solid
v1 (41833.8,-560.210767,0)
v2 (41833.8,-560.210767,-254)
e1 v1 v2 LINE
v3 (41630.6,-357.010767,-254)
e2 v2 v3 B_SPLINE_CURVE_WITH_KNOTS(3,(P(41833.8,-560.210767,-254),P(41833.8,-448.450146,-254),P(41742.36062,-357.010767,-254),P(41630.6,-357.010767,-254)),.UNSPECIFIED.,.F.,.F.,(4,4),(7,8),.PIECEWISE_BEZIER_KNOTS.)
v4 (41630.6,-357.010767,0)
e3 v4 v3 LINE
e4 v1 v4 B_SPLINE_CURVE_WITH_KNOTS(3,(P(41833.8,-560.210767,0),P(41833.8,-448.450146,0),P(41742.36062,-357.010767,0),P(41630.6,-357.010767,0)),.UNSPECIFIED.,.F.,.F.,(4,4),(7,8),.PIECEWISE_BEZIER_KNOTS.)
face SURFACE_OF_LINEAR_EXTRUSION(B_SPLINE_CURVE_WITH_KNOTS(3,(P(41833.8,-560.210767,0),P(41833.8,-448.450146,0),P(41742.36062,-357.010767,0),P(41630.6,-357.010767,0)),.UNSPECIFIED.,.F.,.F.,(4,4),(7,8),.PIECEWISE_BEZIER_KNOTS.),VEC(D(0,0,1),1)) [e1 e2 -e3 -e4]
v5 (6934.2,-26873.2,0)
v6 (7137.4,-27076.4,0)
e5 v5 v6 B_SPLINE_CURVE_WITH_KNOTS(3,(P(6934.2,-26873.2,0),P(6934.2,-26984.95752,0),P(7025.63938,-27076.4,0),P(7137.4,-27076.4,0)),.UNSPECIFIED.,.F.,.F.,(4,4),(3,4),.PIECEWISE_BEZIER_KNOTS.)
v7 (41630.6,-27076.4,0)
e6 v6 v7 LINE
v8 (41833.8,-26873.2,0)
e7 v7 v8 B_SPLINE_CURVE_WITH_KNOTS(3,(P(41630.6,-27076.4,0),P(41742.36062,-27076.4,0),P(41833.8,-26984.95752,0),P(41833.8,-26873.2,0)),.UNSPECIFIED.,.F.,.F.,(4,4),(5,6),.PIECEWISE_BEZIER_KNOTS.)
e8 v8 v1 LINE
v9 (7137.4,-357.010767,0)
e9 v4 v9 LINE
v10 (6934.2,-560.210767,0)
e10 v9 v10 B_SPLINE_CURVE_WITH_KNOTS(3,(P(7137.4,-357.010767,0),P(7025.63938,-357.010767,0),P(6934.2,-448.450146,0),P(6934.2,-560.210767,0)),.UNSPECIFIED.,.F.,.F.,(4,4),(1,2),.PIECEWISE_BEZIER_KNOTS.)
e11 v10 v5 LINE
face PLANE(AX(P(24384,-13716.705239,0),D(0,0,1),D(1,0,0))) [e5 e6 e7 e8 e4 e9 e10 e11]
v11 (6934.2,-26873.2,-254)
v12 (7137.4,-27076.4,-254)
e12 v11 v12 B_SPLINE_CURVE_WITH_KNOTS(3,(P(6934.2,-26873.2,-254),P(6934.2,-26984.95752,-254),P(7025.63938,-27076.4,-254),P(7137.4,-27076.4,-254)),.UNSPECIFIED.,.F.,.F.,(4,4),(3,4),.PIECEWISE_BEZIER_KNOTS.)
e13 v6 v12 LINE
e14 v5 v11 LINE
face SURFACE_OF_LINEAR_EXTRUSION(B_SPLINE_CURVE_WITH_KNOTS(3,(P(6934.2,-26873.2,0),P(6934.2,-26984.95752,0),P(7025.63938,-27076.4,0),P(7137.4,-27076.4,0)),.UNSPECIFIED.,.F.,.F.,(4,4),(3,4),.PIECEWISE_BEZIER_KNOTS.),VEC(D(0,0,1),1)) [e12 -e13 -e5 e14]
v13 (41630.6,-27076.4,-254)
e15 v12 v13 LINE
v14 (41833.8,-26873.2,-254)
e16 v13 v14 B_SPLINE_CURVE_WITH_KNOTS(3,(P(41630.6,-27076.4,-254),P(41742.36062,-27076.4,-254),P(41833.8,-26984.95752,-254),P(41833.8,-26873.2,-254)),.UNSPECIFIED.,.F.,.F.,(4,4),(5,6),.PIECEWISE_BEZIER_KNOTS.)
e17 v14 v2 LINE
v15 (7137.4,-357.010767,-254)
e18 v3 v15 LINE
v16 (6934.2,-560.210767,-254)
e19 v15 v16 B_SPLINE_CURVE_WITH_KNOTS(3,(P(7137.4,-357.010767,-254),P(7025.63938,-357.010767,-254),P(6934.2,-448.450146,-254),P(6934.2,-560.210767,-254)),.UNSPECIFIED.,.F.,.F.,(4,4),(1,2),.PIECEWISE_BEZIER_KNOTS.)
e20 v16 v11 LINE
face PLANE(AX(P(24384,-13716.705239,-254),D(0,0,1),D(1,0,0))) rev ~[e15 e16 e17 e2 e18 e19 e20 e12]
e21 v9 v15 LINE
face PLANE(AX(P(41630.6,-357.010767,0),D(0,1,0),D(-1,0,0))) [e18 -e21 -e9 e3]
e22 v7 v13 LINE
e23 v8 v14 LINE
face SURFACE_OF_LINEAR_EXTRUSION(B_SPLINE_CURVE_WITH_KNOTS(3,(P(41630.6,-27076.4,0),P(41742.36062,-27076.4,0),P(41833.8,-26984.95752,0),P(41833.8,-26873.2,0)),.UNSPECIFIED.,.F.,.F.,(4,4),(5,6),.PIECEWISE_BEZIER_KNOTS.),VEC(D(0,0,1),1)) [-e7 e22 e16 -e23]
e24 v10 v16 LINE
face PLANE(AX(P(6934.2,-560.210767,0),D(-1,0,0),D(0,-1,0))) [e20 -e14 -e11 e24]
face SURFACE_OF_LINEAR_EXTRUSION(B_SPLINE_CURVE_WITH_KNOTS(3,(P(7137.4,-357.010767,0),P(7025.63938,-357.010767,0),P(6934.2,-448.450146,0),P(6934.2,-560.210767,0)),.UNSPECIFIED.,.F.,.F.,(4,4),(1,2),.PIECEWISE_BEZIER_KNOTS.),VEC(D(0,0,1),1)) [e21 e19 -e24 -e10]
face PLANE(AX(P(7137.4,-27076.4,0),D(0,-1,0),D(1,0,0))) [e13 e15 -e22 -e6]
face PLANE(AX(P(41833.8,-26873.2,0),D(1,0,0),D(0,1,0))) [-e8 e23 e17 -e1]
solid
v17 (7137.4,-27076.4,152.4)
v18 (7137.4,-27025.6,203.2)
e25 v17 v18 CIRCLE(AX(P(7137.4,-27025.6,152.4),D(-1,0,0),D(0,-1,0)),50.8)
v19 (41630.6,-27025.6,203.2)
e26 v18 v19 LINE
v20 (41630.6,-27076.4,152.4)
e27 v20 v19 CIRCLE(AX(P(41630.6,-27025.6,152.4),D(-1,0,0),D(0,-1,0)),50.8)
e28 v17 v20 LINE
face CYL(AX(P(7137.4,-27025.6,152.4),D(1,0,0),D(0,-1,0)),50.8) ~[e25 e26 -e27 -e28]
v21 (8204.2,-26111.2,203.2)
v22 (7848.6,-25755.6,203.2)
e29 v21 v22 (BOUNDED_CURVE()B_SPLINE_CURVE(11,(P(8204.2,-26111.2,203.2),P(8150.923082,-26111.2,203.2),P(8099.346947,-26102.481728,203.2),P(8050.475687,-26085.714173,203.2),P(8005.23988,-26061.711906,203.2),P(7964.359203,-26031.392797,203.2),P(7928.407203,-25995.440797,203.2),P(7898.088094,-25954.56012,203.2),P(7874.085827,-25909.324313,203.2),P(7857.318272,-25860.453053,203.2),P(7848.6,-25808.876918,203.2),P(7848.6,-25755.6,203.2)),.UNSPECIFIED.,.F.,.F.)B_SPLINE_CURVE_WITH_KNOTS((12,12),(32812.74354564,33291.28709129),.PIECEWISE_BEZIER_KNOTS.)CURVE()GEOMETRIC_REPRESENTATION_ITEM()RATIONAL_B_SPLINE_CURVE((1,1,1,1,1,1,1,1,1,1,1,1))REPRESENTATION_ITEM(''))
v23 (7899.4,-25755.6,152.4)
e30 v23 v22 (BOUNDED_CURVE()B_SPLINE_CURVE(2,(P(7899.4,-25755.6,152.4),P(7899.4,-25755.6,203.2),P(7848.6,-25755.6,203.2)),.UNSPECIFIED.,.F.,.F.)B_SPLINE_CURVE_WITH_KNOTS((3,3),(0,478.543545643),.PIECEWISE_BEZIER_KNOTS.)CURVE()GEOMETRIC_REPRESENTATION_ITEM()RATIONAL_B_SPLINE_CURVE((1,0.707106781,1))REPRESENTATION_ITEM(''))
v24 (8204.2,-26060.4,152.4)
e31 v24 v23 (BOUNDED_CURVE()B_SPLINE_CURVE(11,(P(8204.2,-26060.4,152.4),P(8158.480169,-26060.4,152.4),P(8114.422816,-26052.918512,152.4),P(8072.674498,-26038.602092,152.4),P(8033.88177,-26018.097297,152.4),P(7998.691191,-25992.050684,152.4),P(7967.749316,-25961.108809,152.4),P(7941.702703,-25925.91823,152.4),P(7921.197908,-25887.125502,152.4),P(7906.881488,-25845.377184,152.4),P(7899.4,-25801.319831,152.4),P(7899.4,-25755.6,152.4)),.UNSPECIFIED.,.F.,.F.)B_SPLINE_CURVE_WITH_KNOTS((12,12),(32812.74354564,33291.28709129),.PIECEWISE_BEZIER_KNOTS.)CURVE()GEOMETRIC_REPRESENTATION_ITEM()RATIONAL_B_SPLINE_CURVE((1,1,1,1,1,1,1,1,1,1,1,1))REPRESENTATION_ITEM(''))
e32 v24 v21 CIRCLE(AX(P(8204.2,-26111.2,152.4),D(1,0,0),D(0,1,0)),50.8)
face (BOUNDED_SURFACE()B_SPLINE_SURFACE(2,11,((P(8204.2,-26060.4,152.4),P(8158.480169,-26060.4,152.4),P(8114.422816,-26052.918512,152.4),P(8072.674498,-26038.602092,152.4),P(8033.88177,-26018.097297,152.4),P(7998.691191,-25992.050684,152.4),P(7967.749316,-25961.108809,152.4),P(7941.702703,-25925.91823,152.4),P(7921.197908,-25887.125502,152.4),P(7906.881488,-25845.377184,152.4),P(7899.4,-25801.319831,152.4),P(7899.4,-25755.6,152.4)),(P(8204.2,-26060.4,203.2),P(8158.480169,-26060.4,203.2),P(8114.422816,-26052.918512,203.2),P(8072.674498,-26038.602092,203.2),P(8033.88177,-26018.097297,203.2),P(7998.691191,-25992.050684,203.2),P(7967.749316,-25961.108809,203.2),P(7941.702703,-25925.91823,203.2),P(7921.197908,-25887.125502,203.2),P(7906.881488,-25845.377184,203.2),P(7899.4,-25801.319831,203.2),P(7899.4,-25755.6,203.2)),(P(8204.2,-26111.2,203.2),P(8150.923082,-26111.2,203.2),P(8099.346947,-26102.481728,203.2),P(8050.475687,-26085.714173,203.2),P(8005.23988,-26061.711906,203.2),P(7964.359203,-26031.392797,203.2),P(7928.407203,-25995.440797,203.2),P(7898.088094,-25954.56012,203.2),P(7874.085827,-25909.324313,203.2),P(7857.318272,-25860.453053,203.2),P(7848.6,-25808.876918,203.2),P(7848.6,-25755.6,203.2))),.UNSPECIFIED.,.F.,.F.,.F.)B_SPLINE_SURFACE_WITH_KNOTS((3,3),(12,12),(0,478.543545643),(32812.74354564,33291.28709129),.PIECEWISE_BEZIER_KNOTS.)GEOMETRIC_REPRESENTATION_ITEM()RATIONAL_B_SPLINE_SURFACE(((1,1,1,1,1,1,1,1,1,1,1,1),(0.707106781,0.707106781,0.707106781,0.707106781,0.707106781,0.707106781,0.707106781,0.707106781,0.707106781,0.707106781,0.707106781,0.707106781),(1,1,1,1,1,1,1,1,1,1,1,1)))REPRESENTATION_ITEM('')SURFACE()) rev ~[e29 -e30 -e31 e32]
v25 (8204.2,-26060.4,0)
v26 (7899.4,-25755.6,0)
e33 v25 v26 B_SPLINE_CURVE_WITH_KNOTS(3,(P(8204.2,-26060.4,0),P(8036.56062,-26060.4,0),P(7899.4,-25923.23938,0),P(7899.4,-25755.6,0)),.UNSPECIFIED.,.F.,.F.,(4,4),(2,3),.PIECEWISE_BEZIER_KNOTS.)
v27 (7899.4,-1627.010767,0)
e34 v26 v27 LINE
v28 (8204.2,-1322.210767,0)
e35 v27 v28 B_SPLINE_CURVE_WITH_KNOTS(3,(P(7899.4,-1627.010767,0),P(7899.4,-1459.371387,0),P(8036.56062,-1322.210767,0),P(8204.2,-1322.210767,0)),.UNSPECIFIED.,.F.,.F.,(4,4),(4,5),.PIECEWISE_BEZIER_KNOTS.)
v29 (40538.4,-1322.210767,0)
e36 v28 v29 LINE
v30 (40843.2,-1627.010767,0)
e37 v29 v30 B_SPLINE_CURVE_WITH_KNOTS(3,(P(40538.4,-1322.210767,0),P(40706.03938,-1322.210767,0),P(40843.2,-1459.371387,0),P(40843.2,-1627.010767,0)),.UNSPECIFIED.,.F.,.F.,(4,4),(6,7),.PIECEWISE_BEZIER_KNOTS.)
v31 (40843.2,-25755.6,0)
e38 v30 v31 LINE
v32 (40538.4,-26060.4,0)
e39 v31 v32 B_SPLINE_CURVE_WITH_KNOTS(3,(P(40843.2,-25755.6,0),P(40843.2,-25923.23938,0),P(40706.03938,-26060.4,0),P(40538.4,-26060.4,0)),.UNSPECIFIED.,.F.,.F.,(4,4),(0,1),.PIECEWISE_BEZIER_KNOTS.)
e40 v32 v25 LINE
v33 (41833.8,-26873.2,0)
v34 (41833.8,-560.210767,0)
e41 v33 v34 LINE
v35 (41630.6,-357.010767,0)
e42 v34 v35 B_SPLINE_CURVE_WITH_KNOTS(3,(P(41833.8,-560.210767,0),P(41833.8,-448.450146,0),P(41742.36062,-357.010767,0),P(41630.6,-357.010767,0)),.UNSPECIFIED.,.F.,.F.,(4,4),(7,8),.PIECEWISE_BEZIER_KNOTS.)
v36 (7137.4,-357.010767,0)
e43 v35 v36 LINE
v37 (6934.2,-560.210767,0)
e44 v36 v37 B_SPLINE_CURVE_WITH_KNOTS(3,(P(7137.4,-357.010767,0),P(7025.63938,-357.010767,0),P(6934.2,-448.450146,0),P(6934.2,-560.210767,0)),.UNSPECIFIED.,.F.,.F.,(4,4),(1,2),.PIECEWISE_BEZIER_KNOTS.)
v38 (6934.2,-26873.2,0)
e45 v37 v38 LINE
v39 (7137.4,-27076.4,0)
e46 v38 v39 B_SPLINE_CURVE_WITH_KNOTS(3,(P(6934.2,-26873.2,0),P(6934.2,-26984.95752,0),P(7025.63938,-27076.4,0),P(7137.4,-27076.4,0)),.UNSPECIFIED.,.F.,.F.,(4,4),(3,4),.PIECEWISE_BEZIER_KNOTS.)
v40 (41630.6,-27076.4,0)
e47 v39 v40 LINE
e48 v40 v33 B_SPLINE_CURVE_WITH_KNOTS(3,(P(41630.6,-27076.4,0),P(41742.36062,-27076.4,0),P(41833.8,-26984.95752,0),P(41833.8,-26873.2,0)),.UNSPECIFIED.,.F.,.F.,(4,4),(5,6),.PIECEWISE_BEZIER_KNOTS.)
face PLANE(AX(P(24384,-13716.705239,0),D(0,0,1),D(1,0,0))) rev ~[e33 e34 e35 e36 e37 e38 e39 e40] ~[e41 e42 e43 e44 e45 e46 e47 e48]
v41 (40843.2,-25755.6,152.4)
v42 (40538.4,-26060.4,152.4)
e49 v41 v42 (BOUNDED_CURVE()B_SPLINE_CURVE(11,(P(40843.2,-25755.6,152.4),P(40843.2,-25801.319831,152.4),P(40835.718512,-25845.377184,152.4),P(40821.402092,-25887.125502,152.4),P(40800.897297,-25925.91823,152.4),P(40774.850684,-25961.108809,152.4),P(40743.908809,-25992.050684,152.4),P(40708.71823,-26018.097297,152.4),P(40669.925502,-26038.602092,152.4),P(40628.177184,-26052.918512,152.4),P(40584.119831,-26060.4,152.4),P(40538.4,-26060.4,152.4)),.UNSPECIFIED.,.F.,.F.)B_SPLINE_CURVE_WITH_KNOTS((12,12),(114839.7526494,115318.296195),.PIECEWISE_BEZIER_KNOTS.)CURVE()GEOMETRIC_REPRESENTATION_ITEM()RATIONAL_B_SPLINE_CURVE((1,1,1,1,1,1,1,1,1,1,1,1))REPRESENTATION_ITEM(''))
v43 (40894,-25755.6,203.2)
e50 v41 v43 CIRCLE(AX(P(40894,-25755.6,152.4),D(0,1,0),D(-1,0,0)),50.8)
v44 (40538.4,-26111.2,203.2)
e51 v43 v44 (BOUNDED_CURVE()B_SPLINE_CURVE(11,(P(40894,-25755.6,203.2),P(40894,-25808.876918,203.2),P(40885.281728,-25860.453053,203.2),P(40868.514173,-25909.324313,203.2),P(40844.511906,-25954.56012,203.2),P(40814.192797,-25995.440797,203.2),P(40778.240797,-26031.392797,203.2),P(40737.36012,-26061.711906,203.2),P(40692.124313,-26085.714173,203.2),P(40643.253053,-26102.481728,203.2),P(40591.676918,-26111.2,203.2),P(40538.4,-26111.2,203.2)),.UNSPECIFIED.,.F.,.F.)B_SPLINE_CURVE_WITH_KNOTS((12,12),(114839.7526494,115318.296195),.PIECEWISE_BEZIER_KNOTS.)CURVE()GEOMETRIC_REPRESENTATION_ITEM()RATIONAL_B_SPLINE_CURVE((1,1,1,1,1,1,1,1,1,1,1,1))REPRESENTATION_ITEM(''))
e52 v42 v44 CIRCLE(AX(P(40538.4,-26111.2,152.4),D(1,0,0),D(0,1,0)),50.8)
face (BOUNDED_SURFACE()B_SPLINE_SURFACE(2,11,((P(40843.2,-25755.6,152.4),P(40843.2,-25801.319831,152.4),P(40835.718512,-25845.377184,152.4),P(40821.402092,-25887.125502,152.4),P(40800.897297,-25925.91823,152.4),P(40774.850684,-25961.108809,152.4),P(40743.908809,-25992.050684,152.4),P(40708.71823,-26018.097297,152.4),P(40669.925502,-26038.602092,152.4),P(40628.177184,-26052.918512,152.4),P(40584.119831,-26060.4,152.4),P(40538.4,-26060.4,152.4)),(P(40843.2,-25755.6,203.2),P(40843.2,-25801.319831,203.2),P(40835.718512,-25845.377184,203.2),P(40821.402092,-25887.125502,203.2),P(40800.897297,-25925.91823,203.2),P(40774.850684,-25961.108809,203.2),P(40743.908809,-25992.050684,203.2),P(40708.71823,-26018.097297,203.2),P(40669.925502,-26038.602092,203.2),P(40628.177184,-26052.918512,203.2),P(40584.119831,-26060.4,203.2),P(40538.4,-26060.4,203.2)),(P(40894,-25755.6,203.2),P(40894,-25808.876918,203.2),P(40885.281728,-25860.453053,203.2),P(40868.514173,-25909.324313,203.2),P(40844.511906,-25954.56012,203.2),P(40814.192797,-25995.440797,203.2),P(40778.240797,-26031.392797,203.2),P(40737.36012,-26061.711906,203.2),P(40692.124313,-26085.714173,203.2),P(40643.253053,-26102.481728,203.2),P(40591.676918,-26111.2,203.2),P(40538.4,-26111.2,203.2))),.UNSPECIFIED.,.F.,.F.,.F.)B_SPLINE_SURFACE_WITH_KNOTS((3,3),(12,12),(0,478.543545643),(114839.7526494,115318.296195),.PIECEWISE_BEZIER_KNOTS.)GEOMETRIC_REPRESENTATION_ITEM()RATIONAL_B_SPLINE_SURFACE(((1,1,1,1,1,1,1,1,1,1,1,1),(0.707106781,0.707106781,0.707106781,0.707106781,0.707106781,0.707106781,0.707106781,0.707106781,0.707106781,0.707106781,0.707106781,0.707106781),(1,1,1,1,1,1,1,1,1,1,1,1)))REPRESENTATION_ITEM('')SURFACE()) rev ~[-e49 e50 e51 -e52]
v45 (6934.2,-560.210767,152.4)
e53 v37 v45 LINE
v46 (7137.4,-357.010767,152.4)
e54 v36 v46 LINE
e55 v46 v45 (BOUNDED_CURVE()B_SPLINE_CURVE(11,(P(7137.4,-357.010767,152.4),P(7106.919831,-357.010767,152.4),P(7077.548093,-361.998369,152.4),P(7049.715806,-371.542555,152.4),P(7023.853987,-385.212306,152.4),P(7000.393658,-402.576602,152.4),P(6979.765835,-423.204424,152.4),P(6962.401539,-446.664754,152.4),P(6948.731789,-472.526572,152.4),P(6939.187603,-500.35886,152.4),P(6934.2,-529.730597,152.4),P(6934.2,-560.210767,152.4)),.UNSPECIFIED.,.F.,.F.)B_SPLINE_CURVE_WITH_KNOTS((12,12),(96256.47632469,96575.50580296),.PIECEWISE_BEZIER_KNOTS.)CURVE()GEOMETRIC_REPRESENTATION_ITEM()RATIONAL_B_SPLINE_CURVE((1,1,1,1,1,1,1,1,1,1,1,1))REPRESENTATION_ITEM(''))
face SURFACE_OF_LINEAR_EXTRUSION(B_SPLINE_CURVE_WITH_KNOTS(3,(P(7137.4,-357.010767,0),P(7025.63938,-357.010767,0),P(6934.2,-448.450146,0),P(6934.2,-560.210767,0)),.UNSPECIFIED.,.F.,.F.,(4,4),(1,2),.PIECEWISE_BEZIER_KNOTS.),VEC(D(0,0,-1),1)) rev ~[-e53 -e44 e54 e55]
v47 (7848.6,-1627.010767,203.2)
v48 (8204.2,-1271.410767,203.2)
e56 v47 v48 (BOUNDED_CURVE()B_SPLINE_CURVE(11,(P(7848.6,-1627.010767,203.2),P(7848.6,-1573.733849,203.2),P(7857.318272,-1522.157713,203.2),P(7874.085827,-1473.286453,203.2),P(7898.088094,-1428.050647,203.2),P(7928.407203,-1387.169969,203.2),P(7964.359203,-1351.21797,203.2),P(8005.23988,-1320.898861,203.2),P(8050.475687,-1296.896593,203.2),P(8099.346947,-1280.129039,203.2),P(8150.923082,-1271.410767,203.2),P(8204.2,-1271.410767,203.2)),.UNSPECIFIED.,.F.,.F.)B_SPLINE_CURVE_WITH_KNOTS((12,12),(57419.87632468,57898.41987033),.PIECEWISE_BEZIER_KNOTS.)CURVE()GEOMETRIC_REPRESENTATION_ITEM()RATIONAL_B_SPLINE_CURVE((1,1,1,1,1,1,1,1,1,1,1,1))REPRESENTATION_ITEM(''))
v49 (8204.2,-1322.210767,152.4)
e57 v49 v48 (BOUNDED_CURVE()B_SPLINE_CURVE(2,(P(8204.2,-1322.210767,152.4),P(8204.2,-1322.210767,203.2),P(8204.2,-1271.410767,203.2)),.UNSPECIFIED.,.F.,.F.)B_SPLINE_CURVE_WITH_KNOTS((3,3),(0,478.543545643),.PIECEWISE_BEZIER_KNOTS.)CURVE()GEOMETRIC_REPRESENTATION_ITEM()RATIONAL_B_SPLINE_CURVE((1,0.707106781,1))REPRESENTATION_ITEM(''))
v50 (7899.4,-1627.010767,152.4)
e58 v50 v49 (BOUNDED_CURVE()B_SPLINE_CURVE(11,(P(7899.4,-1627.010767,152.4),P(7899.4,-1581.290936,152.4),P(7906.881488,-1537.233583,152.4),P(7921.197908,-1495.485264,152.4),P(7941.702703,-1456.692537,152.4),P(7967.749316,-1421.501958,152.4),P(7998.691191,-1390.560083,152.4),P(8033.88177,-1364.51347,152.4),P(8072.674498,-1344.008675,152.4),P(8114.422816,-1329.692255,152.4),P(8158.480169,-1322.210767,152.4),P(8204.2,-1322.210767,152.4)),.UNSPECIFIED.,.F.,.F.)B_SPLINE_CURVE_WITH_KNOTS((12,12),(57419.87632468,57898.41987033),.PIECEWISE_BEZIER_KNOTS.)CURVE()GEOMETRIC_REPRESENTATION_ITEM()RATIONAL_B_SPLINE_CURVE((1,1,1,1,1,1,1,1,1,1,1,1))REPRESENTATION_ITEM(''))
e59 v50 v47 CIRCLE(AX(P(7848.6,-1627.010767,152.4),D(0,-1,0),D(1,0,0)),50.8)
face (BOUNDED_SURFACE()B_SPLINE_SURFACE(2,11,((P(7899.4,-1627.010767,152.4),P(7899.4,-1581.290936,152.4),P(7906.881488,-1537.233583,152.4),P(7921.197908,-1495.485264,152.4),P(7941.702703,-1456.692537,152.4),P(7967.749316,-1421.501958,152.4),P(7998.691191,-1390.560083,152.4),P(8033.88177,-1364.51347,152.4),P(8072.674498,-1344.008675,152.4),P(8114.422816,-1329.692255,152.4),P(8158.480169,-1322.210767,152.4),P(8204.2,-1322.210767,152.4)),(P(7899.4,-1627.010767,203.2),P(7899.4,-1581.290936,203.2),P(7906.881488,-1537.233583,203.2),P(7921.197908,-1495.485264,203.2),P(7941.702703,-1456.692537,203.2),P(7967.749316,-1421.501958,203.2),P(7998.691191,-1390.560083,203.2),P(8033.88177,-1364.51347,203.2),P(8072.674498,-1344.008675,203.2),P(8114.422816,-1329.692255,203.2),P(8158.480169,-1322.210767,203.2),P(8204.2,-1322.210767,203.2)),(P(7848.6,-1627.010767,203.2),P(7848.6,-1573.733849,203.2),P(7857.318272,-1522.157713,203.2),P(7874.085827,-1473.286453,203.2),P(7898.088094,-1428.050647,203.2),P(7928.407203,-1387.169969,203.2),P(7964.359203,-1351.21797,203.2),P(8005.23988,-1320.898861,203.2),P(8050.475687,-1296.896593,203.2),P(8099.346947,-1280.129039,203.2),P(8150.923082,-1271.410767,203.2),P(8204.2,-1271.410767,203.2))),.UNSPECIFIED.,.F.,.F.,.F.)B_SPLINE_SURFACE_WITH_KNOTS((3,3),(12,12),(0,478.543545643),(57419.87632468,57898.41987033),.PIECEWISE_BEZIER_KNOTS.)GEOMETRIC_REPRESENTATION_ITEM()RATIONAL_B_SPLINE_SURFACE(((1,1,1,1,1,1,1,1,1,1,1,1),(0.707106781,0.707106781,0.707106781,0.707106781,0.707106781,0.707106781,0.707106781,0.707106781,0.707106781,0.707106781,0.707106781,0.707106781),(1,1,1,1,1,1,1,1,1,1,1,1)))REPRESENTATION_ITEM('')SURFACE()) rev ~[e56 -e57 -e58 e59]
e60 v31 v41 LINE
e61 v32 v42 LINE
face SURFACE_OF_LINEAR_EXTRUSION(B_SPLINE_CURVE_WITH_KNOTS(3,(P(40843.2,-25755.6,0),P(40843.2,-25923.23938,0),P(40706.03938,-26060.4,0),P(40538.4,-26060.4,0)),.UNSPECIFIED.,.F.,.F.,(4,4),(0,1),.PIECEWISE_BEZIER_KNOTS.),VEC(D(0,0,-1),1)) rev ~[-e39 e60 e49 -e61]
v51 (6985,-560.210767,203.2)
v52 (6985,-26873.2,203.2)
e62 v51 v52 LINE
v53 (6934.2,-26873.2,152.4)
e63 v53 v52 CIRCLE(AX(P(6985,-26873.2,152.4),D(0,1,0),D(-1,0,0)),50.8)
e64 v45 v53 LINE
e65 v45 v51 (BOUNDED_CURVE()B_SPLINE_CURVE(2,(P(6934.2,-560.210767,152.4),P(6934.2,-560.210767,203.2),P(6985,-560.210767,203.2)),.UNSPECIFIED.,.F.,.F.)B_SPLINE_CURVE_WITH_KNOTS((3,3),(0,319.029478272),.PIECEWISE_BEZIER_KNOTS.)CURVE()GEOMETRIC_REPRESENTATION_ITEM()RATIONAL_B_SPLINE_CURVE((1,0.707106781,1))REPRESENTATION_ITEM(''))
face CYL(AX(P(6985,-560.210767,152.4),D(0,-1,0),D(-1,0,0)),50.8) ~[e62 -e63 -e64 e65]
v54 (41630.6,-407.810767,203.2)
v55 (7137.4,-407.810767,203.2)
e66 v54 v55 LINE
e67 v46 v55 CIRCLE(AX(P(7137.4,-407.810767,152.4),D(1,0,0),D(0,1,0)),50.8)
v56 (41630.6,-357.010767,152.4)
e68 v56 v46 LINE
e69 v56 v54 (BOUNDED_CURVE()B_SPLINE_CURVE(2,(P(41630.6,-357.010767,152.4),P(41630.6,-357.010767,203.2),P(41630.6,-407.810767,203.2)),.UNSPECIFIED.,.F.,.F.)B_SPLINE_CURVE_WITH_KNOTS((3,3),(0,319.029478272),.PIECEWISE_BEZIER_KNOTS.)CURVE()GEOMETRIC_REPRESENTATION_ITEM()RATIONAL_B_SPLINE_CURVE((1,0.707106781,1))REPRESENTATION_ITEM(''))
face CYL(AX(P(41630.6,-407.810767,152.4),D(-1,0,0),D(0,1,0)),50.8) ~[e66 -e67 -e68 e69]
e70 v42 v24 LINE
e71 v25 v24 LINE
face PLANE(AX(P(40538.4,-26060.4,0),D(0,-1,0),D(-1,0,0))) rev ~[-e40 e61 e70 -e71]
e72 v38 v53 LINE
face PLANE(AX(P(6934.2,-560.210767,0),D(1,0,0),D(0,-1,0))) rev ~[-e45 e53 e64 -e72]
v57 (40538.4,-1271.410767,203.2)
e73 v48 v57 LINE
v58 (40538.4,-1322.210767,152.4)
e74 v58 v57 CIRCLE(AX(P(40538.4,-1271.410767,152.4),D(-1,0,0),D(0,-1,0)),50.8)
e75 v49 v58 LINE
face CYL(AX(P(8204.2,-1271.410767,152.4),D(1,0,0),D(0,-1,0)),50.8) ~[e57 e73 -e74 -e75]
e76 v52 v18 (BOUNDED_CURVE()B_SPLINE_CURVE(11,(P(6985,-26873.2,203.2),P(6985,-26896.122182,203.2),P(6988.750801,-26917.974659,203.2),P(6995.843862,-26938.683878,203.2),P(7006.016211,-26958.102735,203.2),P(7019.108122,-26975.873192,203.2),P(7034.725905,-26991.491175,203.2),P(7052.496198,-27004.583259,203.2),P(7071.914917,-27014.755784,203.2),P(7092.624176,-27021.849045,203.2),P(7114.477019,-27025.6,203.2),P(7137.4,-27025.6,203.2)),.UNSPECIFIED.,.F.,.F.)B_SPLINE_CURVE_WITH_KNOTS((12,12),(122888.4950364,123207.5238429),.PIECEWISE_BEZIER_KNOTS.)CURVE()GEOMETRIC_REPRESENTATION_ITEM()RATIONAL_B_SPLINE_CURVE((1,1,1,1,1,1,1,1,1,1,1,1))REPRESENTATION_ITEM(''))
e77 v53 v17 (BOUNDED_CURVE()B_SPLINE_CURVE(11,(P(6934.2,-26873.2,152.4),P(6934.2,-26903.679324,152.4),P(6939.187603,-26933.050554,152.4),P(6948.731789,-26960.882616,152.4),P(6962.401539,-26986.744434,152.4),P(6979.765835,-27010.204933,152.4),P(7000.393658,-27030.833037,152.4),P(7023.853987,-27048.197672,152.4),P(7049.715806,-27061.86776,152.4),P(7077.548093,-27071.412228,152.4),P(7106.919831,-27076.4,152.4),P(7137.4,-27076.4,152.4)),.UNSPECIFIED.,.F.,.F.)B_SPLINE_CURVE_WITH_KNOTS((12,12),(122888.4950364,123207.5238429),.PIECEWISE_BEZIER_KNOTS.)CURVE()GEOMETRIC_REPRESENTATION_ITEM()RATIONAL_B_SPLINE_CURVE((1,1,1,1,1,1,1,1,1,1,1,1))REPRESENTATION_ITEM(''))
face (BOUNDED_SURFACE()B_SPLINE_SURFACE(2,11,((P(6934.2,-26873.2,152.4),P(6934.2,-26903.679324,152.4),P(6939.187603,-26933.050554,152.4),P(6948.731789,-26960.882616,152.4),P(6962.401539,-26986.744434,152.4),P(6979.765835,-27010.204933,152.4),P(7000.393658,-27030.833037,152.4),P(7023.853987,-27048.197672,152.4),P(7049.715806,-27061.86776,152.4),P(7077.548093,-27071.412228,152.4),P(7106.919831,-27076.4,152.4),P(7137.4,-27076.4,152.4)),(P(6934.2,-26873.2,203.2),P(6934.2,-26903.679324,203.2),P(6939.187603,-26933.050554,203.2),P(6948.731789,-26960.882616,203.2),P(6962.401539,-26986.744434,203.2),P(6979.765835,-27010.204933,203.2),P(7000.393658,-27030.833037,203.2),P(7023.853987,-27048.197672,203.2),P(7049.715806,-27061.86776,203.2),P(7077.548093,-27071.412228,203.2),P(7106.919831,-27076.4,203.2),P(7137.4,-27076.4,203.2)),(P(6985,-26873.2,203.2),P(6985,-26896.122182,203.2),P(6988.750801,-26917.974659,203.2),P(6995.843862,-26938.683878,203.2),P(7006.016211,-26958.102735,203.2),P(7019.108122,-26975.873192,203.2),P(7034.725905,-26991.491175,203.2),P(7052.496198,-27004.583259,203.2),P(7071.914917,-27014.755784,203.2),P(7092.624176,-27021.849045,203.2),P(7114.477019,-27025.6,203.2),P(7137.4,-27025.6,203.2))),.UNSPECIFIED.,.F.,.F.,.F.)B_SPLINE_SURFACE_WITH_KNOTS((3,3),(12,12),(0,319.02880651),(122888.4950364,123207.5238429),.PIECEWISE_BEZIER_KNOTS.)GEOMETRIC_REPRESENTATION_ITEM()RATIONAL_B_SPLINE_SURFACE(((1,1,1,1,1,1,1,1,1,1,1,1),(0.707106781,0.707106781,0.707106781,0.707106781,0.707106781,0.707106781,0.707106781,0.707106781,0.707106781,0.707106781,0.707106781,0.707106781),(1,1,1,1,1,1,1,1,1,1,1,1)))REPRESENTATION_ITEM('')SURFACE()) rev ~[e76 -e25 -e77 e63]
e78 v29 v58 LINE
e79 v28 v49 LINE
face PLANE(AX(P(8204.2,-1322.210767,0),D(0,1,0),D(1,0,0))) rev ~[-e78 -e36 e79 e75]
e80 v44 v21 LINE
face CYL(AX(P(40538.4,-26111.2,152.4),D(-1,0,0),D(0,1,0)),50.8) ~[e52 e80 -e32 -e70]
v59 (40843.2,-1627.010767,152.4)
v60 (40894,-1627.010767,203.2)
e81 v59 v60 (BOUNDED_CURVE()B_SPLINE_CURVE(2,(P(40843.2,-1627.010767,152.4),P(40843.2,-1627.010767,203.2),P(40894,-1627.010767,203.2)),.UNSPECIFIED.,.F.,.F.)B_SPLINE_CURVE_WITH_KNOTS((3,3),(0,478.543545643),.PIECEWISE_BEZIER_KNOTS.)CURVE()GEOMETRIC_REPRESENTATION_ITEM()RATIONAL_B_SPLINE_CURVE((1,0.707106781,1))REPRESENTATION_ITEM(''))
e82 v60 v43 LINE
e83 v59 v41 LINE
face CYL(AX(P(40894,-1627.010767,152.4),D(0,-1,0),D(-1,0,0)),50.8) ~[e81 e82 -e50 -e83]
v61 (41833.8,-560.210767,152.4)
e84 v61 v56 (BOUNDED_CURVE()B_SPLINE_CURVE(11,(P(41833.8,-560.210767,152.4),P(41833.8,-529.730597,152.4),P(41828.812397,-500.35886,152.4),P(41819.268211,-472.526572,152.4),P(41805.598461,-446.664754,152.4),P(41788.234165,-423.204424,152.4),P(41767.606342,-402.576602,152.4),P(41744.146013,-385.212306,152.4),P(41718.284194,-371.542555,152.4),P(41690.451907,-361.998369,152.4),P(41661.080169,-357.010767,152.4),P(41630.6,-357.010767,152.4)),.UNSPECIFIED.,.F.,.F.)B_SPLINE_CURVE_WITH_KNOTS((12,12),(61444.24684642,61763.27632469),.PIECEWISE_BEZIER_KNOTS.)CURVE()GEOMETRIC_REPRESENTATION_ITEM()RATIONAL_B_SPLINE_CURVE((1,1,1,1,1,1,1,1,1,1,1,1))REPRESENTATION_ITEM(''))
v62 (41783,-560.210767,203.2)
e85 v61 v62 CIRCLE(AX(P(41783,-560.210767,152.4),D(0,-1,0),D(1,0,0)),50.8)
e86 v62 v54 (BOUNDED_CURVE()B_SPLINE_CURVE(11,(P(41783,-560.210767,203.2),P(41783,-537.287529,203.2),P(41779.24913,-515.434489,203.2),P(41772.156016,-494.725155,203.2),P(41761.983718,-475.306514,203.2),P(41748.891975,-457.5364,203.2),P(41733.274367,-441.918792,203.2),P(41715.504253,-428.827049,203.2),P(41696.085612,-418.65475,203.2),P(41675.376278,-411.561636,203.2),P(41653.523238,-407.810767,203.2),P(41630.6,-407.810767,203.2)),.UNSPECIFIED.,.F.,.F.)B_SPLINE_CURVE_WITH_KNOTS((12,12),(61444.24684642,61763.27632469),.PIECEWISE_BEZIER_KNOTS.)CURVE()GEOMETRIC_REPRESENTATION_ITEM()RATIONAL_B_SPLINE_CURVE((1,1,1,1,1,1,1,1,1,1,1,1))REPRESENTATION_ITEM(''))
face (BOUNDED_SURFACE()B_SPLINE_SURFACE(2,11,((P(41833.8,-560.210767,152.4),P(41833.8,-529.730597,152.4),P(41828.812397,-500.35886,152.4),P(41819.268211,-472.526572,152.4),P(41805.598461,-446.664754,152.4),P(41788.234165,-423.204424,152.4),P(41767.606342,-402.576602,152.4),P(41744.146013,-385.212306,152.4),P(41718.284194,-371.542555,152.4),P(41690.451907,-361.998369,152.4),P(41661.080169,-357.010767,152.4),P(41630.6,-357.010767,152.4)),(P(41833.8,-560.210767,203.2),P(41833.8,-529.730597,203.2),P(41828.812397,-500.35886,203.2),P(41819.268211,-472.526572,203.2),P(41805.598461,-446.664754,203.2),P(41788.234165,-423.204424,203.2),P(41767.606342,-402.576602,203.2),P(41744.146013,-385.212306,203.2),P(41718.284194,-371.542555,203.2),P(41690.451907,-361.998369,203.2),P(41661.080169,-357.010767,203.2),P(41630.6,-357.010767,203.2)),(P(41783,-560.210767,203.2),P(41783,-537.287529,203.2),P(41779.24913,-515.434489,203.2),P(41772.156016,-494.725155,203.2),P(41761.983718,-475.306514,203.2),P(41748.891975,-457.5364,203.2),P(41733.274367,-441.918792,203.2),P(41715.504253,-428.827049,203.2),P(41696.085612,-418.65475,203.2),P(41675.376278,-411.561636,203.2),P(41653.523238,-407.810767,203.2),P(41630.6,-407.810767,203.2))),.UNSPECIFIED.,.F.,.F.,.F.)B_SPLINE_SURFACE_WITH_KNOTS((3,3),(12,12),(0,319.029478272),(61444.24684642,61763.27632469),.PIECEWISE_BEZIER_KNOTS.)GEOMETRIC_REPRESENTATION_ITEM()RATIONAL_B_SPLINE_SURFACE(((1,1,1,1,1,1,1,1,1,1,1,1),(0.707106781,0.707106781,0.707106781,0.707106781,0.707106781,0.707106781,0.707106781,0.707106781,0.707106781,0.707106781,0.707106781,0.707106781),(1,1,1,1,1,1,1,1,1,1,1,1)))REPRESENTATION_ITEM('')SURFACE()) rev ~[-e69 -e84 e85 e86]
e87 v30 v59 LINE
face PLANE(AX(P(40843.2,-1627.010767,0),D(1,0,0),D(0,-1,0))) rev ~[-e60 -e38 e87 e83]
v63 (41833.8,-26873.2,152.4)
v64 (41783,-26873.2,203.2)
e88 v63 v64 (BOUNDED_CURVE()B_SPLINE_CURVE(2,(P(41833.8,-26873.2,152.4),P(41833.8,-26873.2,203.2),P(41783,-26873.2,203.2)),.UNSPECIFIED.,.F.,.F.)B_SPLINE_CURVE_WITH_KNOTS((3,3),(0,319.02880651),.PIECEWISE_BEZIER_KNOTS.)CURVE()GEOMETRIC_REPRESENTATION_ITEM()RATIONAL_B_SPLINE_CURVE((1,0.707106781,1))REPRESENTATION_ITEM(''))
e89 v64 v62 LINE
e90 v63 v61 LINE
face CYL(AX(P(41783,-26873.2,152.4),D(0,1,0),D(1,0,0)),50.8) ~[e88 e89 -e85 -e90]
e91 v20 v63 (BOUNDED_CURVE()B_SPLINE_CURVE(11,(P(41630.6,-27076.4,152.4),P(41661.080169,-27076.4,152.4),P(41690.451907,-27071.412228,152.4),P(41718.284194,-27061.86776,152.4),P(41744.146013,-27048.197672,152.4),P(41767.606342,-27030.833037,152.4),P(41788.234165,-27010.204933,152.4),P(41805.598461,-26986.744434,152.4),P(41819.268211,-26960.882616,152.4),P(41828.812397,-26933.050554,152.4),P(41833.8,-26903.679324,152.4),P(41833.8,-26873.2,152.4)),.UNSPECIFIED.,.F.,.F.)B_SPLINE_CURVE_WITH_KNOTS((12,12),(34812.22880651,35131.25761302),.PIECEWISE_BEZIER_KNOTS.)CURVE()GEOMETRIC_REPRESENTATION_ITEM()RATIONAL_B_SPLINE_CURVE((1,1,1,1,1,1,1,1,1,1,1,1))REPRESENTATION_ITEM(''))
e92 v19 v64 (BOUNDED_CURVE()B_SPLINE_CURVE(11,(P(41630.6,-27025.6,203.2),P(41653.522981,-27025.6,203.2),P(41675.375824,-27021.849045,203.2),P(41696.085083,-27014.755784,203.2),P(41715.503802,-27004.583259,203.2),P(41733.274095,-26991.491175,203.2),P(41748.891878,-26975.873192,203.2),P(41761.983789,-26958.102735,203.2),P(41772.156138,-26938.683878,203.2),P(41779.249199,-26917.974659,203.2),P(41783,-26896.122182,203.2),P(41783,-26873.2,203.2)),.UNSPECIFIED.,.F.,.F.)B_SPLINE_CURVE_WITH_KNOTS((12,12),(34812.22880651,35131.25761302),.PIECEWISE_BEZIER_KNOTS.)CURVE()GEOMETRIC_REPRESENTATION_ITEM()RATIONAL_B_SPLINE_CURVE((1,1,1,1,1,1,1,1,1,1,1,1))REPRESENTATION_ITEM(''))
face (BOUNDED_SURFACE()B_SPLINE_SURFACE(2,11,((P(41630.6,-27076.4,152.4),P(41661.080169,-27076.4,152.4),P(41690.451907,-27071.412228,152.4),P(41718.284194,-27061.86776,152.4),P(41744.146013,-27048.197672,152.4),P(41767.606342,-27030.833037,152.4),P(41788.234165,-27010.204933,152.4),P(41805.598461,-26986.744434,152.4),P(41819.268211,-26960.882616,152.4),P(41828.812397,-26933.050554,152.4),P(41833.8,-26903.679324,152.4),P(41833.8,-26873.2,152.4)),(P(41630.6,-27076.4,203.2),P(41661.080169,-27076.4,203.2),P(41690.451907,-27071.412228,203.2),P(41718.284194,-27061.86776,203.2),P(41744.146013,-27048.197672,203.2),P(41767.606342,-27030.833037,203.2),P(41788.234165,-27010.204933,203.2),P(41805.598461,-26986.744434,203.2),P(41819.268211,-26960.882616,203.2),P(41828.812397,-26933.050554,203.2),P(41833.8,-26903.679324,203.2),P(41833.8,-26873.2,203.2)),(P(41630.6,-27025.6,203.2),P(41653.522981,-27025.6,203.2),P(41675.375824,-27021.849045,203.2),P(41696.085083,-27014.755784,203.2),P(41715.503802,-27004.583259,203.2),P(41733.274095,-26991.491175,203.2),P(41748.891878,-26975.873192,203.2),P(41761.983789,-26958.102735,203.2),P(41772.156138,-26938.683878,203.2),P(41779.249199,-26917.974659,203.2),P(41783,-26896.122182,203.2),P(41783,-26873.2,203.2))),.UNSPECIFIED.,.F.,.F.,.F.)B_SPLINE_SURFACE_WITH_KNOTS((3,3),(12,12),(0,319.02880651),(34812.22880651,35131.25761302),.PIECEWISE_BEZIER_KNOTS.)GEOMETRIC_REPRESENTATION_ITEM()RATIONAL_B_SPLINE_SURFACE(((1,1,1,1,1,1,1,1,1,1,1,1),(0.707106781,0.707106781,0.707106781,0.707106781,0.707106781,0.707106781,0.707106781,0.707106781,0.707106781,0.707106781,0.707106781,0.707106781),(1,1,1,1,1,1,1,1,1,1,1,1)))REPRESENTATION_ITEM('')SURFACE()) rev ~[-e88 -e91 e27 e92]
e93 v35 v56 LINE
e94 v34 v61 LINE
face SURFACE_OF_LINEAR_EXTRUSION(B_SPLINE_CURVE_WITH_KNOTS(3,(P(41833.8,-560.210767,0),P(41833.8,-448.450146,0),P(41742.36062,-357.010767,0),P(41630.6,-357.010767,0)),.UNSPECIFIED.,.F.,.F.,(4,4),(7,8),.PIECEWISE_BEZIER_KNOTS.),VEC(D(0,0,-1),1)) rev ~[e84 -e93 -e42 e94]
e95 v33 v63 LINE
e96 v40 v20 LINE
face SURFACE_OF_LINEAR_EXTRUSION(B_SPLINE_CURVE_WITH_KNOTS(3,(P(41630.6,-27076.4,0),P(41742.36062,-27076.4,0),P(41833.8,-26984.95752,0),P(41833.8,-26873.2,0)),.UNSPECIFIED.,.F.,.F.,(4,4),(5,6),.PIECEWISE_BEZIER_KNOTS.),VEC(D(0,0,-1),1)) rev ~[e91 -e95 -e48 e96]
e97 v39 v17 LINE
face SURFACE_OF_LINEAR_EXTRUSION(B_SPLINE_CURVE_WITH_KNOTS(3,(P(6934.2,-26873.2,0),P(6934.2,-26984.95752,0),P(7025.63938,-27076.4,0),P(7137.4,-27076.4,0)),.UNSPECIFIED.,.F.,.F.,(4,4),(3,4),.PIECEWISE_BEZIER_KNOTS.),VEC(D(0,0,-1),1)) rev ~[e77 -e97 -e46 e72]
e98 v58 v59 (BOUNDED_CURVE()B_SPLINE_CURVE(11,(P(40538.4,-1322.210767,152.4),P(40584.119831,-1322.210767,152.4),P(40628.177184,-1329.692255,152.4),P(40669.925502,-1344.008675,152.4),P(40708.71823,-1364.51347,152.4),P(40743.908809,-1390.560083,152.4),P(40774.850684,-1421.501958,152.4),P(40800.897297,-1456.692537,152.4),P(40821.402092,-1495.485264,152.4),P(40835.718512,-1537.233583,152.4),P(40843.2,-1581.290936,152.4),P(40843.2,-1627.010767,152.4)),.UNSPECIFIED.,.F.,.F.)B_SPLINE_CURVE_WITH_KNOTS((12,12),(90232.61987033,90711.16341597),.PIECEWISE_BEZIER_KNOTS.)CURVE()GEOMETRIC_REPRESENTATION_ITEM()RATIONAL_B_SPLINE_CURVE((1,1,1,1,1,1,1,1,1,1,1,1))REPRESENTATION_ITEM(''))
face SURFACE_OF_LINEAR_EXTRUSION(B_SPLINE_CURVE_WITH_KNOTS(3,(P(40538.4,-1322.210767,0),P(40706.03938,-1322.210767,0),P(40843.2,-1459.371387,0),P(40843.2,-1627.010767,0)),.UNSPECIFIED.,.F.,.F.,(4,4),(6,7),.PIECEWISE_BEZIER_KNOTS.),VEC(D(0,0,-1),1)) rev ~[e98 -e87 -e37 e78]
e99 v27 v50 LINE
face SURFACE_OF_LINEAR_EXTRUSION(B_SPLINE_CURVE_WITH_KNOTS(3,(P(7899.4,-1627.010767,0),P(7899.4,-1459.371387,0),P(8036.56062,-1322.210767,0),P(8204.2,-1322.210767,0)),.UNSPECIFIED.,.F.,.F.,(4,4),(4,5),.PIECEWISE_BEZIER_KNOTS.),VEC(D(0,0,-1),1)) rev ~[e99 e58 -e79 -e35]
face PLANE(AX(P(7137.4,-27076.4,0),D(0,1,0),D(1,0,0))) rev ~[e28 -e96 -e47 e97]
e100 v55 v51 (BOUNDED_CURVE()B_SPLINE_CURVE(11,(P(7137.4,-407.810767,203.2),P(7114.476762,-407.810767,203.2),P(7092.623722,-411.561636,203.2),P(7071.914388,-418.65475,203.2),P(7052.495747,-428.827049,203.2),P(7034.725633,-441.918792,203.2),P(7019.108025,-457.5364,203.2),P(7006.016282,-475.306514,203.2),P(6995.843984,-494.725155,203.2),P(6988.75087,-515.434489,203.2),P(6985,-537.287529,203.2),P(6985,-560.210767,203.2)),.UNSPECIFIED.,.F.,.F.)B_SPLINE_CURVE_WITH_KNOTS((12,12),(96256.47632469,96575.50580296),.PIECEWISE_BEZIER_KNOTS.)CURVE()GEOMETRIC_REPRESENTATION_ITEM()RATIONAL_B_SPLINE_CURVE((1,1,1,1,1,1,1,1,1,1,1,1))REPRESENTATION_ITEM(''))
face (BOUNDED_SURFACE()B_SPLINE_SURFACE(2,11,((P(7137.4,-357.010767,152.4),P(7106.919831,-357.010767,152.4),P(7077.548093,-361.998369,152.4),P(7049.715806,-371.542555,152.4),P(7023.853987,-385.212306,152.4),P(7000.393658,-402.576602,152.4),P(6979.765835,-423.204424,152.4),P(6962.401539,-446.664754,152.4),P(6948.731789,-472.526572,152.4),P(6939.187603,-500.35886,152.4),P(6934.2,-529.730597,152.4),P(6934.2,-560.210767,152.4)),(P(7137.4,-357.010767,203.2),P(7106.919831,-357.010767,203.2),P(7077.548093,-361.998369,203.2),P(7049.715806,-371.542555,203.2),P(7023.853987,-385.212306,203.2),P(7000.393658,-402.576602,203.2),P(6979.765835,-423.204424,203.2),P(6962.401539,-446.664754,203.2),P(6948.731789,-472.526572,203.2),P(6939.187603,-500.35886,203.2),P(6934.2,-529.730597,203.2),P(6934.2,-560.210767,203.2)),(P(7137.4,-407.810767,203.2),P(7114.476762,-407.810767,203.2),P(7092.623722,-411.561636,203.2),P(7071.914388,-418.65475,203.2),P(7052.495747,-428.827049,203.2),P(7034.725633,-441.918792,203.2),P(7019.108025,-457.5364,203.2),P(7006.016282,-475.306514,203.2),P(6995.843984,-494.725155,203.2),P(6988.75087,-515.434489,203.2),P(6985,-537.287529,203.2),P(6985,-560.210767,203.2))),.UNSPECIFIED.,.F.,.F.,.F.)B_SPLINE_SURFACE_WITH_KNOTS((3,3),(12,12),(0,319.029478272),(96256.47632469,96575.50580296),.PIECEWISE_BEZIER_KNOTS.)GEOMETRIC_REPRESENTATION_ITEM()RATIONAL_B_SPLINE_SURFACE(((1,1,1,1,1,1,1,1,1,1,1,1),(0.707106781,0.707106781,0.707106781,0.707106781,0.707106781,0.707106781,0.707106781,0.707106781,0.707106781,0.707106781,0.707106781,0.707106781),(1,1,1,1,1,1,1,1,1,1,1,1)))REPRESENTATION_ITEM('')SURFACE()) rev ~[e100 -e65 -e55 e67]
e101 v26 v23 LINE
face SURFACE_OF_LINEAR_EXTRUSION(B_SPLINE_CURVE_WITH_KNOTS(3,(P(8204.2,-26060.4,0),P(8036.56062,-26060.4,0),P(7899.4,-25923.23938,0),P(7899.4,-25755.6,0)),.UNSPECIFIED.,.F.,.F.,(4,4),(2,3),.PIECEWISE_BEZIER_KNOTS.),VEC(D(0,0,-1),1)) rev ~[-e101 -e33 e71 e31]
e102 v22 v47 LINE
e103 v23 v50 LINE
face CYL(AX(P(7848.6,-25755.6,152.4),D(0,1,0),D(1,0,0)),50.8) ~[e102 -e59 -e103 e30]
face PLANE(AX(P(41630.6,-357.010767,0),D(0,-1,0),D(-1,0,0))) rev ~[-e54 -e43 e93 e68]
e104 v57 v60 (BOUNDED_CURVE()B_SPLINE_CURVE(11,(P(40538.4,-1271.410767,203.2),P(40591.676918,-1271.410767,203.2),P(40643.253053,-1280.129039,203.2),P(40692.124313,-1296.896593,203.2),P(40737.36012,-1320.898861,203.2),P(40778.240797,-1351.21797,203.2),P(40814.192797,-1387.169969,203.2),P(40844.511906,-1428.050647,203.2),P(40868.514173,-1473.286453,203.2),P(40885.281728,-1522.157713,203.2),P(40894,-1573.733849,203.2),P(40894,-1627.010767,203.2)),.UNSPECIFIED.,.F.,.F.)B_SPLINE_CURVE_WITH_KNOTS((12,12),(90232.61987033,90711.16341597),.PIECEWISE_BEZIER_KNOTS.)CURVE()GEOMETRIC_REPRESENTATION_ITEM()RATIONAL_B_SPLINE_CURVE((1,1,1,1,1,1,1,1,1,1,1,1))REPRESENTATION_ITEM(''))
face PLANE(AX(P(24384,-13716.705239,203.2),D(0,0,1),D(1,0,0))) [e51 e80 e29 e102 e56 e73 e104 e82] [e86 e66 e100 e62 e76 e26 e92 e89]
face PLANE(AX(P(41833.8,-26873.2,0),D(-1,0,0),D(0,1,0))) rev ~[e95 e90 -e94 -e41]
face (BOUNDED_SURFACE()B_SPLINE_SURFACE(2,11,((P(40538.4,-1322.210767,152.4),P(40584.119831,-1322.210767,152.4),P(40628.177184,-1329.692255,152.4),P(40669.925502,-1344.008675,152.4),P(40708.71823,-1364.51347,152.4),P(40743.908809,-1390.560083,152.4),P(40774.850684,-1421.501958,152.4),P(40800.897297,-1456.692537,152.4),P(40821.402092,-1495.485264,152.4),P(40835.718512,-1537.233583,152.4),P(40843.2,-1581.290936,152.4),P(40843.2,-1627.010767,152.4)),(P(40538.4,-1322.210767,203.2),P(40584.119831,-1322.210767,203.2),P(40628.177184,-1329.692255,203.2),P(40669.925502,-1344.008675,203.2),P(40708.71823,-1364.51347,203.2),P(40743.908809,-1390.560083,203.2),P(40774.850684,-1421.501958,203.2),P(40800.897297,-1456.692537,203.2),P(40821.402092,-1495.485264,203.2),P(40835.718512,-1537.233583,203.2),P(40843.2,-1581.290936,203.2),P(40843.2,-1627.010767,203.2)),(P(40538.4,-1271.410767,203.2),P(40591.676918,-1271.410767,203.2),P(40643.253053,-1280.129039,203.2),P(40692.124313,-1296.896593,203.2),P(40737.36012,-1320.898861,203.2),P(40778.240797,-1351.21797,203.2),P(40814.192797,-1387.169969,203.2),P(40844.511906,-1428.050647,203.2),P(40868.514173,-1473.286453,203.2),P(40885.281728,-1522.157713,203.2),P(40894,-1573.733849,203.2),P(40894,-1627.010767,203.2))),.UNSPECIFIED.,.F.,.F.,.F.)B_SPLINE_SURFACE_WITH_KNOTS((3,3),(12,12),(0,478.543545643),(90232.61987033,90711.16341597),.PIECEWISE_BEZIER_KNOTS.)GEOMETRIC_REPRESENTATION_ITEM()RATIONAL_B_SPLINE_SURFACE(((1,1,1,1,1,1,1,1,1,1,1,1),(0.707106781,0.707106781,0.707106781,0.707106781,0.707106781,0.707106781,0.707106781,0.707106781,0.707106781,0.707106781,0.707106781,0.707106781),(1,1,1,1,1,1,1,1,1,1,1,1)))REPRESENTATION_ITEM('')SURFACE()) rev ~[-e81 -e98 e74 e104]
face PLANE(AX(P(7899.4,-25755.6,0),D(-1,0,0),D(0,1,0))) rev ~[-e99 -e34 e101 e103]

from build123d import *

# Parameters (mm, degrees)
BOSS_EXTRUDE1_DEPTH = 203.2
FILLET1_R           = 50.8
BOSS_EXTRUDE2_DEPTH = 254


with BuildPart() as part:
    # Model → Boss-Extrude1 (new body)
    with BuildSketch(Plane.XY):
        with BuildLine():
            Line((41630.6, -357.010766602), (7137.4, -357.010766602))
            add(Edge.make_bspline(
                [(7137.4, -357.010766602), (7025.639379883, -357.010766602), (6934.2, -448.450146484), (6934.2, -560.210766602)],
                knots=[1, 1, 1, 1, 2, 2, 2, 2], degree=3))
            Line((6934.2, -560.210766602), (6934.2, -26873.2))
            add(Edge.make_bspline(
                [(6934.2, -26873.2), (6934.2, -26984.957519531), (7025.639379883, -27076.4), (7137.4, -27076.4)],
                knots=[3, 3, 3, 3, 4, 4, 4, 4], degree=3))
            Line((7137.4, -27076.4), (41630.6, -27076.4))
            add(Edge.make_bspline(
                [(41630.6, -27076.4), (41742.360620117, -27076.4), (41833.8, -26984.957519531), (41833.8, -26873.2)],
                knots=[5, 5, 5, 5, 6, 6, 6, 6], degree=3))
            Line((41833.8, -26873.2), (41833.8, -560.210766602))
            add(Edge.make_bspline(
                [(41833.8, -560.210766602), (41833.8, -448.450146484), (41742.360620117, -357.010766602), (41630.6, -357.010766602)],
                knots=[7, 7, 7, 7, 8, 8, 8, 8], degree=3))
        make_face()
        with BuildLine():
            Line((40538.4, -26060.4), (8204.2, -26060.4))
            add(Edge.make_bspline(
                [(8204.2, -26060.4), (8036.560620117, -26060.4), (7899.4, -25923.239379883), (7899.4, -25755.6)],
                knots=[2, 2, 2, 2, 3, 3, 3, 3], degree=3))
            Line((7899.4, -25755.6), (7899.4, -1627.010766602))
            add(Edge.make_bspline(
                [(7899.4, -1627.010766602), (7899.4, -1459.371386719), (8036.560620117, -1322.210766602), (8204.2, -1322.210766602)],
                knots=[4, 4, 4, 4, 5, 5, 5, 5], degree=3))
            Line((8204.2, -1322.210766602), (40538.4, -1322.210766602))
            add(Edge.make_bspline(
                [(40538.4, -1322.210766602), (40706.039379883, -1322.210766602), (40843.2, -1459.371386719), (40843.2, -1627.010766602)],
                knots=[6, 6, 6, 6, 7, 7, 7, 7], degree=3))
            Line((40843.2, -1627.010766602), (40843.2, -25755.6))
            add(Edge.make_bspline(
                [(40843.2, -25755.6), (40843.2, -25923.239379883), (40706.039379883, -26060.4), (40538.4, -26060.4)],
                knots=[0, 0, 0, 0, 1, 1, 1, 1], degree=3))
        make_face(mode=Mode.SUBTRACT)
    extrude(amount=BOSS_EXTRUDE1_DEPTH)

    # Fillet1
    fillet1_edges = [part.edges().sort_by_distance(p)[0] for p in [
        (6993.890366848, -27016.70966922, 203.2),
        (24384, -27076.4, 203.2),
        (41774.109633189, -27016.709669183, 203.2),
        (41833.8, -13716.705383301, 203.2),
        (41774.110232526, -416.700534039, 203.2),
        (40753.664767429, -25970.864767483, 203.2),
        (40843.2, -13691.305383301, 203.2),
        (40753.664767483, -1411.745999173, 203.2),
        (24371.3, -1322.210766602, 203.2),
        (7988.935232571, -1411.745999118, 203.2),
        (7899.4, -13691.305383301, 203.2),
        (7988.935232517, -25970.864767429, 203.2),
        (24384, -357.010766602, 203.2),
        (24371.3, -26060.4, 203.2),
        (6993.889767438, -416.700534076, 203.2),
        (6934.2, -13716.705383301, 203.2),
    ]]
    fillet(fillet1_edges, radius=FILLET1_R)


with BuildPart() as body_2:
    # Sketch4 → Boss-Extrude2 (new body)
    with BuildSketch(Plane.XY):
        with BuildLine():
            Line((41630.6, -357.010766602), (7137.4, -357.010766602))
            add(Edge.make_bspline(
                [(7137.4, -357.010766602), (7025.639379883, -357.010766602), (6934.2, -448.450146484), (6934.2, -560.210766602)],
                knots=[1, 1, 1, 1, 2, 2, 2, 2], degree=3))
            Line((6934.2, -560.210766602), (6934.2, -26873.2))
            add(Edge.make_bspline(
                [(6934.2, -26873.2), (6934.2, -26984.957519531), (7025.639379883, -27076.4), (7137.4, -27076.4)],
                knots=[3, 3, 3, 3, 4, 4, 4, 4], degree=3))
            Line((7137.4, -27076.4), (41630.6, -27076.4))
            add(Edge.make_bspline(
                [(41630.6, -27076.4), (41742.360620117, -27076.4), (41833.8, -26984.957519531), (41833.8, -26873.2)],
                knots=[5, 5, 5, 5, 6, 6, 6, 6], degree=3))
            Line((41833.8, -26873.2), (41833.8, -560.210766602))
            add(Edge.make_bspline(
                [(41833.8, -560.210766602), (41833.8, -448.450146484), (41742.360620117, -357.010766602), (41630.6, -357.010766602)],
                knots=[7, 7, 7, 7, 8, 8, 8, 8], degree=3))
        make_face()
    extrude(amount=-BOSS_EXTRUDE2_DEPTH)


solid = Compound([part.part, body_2.part])
